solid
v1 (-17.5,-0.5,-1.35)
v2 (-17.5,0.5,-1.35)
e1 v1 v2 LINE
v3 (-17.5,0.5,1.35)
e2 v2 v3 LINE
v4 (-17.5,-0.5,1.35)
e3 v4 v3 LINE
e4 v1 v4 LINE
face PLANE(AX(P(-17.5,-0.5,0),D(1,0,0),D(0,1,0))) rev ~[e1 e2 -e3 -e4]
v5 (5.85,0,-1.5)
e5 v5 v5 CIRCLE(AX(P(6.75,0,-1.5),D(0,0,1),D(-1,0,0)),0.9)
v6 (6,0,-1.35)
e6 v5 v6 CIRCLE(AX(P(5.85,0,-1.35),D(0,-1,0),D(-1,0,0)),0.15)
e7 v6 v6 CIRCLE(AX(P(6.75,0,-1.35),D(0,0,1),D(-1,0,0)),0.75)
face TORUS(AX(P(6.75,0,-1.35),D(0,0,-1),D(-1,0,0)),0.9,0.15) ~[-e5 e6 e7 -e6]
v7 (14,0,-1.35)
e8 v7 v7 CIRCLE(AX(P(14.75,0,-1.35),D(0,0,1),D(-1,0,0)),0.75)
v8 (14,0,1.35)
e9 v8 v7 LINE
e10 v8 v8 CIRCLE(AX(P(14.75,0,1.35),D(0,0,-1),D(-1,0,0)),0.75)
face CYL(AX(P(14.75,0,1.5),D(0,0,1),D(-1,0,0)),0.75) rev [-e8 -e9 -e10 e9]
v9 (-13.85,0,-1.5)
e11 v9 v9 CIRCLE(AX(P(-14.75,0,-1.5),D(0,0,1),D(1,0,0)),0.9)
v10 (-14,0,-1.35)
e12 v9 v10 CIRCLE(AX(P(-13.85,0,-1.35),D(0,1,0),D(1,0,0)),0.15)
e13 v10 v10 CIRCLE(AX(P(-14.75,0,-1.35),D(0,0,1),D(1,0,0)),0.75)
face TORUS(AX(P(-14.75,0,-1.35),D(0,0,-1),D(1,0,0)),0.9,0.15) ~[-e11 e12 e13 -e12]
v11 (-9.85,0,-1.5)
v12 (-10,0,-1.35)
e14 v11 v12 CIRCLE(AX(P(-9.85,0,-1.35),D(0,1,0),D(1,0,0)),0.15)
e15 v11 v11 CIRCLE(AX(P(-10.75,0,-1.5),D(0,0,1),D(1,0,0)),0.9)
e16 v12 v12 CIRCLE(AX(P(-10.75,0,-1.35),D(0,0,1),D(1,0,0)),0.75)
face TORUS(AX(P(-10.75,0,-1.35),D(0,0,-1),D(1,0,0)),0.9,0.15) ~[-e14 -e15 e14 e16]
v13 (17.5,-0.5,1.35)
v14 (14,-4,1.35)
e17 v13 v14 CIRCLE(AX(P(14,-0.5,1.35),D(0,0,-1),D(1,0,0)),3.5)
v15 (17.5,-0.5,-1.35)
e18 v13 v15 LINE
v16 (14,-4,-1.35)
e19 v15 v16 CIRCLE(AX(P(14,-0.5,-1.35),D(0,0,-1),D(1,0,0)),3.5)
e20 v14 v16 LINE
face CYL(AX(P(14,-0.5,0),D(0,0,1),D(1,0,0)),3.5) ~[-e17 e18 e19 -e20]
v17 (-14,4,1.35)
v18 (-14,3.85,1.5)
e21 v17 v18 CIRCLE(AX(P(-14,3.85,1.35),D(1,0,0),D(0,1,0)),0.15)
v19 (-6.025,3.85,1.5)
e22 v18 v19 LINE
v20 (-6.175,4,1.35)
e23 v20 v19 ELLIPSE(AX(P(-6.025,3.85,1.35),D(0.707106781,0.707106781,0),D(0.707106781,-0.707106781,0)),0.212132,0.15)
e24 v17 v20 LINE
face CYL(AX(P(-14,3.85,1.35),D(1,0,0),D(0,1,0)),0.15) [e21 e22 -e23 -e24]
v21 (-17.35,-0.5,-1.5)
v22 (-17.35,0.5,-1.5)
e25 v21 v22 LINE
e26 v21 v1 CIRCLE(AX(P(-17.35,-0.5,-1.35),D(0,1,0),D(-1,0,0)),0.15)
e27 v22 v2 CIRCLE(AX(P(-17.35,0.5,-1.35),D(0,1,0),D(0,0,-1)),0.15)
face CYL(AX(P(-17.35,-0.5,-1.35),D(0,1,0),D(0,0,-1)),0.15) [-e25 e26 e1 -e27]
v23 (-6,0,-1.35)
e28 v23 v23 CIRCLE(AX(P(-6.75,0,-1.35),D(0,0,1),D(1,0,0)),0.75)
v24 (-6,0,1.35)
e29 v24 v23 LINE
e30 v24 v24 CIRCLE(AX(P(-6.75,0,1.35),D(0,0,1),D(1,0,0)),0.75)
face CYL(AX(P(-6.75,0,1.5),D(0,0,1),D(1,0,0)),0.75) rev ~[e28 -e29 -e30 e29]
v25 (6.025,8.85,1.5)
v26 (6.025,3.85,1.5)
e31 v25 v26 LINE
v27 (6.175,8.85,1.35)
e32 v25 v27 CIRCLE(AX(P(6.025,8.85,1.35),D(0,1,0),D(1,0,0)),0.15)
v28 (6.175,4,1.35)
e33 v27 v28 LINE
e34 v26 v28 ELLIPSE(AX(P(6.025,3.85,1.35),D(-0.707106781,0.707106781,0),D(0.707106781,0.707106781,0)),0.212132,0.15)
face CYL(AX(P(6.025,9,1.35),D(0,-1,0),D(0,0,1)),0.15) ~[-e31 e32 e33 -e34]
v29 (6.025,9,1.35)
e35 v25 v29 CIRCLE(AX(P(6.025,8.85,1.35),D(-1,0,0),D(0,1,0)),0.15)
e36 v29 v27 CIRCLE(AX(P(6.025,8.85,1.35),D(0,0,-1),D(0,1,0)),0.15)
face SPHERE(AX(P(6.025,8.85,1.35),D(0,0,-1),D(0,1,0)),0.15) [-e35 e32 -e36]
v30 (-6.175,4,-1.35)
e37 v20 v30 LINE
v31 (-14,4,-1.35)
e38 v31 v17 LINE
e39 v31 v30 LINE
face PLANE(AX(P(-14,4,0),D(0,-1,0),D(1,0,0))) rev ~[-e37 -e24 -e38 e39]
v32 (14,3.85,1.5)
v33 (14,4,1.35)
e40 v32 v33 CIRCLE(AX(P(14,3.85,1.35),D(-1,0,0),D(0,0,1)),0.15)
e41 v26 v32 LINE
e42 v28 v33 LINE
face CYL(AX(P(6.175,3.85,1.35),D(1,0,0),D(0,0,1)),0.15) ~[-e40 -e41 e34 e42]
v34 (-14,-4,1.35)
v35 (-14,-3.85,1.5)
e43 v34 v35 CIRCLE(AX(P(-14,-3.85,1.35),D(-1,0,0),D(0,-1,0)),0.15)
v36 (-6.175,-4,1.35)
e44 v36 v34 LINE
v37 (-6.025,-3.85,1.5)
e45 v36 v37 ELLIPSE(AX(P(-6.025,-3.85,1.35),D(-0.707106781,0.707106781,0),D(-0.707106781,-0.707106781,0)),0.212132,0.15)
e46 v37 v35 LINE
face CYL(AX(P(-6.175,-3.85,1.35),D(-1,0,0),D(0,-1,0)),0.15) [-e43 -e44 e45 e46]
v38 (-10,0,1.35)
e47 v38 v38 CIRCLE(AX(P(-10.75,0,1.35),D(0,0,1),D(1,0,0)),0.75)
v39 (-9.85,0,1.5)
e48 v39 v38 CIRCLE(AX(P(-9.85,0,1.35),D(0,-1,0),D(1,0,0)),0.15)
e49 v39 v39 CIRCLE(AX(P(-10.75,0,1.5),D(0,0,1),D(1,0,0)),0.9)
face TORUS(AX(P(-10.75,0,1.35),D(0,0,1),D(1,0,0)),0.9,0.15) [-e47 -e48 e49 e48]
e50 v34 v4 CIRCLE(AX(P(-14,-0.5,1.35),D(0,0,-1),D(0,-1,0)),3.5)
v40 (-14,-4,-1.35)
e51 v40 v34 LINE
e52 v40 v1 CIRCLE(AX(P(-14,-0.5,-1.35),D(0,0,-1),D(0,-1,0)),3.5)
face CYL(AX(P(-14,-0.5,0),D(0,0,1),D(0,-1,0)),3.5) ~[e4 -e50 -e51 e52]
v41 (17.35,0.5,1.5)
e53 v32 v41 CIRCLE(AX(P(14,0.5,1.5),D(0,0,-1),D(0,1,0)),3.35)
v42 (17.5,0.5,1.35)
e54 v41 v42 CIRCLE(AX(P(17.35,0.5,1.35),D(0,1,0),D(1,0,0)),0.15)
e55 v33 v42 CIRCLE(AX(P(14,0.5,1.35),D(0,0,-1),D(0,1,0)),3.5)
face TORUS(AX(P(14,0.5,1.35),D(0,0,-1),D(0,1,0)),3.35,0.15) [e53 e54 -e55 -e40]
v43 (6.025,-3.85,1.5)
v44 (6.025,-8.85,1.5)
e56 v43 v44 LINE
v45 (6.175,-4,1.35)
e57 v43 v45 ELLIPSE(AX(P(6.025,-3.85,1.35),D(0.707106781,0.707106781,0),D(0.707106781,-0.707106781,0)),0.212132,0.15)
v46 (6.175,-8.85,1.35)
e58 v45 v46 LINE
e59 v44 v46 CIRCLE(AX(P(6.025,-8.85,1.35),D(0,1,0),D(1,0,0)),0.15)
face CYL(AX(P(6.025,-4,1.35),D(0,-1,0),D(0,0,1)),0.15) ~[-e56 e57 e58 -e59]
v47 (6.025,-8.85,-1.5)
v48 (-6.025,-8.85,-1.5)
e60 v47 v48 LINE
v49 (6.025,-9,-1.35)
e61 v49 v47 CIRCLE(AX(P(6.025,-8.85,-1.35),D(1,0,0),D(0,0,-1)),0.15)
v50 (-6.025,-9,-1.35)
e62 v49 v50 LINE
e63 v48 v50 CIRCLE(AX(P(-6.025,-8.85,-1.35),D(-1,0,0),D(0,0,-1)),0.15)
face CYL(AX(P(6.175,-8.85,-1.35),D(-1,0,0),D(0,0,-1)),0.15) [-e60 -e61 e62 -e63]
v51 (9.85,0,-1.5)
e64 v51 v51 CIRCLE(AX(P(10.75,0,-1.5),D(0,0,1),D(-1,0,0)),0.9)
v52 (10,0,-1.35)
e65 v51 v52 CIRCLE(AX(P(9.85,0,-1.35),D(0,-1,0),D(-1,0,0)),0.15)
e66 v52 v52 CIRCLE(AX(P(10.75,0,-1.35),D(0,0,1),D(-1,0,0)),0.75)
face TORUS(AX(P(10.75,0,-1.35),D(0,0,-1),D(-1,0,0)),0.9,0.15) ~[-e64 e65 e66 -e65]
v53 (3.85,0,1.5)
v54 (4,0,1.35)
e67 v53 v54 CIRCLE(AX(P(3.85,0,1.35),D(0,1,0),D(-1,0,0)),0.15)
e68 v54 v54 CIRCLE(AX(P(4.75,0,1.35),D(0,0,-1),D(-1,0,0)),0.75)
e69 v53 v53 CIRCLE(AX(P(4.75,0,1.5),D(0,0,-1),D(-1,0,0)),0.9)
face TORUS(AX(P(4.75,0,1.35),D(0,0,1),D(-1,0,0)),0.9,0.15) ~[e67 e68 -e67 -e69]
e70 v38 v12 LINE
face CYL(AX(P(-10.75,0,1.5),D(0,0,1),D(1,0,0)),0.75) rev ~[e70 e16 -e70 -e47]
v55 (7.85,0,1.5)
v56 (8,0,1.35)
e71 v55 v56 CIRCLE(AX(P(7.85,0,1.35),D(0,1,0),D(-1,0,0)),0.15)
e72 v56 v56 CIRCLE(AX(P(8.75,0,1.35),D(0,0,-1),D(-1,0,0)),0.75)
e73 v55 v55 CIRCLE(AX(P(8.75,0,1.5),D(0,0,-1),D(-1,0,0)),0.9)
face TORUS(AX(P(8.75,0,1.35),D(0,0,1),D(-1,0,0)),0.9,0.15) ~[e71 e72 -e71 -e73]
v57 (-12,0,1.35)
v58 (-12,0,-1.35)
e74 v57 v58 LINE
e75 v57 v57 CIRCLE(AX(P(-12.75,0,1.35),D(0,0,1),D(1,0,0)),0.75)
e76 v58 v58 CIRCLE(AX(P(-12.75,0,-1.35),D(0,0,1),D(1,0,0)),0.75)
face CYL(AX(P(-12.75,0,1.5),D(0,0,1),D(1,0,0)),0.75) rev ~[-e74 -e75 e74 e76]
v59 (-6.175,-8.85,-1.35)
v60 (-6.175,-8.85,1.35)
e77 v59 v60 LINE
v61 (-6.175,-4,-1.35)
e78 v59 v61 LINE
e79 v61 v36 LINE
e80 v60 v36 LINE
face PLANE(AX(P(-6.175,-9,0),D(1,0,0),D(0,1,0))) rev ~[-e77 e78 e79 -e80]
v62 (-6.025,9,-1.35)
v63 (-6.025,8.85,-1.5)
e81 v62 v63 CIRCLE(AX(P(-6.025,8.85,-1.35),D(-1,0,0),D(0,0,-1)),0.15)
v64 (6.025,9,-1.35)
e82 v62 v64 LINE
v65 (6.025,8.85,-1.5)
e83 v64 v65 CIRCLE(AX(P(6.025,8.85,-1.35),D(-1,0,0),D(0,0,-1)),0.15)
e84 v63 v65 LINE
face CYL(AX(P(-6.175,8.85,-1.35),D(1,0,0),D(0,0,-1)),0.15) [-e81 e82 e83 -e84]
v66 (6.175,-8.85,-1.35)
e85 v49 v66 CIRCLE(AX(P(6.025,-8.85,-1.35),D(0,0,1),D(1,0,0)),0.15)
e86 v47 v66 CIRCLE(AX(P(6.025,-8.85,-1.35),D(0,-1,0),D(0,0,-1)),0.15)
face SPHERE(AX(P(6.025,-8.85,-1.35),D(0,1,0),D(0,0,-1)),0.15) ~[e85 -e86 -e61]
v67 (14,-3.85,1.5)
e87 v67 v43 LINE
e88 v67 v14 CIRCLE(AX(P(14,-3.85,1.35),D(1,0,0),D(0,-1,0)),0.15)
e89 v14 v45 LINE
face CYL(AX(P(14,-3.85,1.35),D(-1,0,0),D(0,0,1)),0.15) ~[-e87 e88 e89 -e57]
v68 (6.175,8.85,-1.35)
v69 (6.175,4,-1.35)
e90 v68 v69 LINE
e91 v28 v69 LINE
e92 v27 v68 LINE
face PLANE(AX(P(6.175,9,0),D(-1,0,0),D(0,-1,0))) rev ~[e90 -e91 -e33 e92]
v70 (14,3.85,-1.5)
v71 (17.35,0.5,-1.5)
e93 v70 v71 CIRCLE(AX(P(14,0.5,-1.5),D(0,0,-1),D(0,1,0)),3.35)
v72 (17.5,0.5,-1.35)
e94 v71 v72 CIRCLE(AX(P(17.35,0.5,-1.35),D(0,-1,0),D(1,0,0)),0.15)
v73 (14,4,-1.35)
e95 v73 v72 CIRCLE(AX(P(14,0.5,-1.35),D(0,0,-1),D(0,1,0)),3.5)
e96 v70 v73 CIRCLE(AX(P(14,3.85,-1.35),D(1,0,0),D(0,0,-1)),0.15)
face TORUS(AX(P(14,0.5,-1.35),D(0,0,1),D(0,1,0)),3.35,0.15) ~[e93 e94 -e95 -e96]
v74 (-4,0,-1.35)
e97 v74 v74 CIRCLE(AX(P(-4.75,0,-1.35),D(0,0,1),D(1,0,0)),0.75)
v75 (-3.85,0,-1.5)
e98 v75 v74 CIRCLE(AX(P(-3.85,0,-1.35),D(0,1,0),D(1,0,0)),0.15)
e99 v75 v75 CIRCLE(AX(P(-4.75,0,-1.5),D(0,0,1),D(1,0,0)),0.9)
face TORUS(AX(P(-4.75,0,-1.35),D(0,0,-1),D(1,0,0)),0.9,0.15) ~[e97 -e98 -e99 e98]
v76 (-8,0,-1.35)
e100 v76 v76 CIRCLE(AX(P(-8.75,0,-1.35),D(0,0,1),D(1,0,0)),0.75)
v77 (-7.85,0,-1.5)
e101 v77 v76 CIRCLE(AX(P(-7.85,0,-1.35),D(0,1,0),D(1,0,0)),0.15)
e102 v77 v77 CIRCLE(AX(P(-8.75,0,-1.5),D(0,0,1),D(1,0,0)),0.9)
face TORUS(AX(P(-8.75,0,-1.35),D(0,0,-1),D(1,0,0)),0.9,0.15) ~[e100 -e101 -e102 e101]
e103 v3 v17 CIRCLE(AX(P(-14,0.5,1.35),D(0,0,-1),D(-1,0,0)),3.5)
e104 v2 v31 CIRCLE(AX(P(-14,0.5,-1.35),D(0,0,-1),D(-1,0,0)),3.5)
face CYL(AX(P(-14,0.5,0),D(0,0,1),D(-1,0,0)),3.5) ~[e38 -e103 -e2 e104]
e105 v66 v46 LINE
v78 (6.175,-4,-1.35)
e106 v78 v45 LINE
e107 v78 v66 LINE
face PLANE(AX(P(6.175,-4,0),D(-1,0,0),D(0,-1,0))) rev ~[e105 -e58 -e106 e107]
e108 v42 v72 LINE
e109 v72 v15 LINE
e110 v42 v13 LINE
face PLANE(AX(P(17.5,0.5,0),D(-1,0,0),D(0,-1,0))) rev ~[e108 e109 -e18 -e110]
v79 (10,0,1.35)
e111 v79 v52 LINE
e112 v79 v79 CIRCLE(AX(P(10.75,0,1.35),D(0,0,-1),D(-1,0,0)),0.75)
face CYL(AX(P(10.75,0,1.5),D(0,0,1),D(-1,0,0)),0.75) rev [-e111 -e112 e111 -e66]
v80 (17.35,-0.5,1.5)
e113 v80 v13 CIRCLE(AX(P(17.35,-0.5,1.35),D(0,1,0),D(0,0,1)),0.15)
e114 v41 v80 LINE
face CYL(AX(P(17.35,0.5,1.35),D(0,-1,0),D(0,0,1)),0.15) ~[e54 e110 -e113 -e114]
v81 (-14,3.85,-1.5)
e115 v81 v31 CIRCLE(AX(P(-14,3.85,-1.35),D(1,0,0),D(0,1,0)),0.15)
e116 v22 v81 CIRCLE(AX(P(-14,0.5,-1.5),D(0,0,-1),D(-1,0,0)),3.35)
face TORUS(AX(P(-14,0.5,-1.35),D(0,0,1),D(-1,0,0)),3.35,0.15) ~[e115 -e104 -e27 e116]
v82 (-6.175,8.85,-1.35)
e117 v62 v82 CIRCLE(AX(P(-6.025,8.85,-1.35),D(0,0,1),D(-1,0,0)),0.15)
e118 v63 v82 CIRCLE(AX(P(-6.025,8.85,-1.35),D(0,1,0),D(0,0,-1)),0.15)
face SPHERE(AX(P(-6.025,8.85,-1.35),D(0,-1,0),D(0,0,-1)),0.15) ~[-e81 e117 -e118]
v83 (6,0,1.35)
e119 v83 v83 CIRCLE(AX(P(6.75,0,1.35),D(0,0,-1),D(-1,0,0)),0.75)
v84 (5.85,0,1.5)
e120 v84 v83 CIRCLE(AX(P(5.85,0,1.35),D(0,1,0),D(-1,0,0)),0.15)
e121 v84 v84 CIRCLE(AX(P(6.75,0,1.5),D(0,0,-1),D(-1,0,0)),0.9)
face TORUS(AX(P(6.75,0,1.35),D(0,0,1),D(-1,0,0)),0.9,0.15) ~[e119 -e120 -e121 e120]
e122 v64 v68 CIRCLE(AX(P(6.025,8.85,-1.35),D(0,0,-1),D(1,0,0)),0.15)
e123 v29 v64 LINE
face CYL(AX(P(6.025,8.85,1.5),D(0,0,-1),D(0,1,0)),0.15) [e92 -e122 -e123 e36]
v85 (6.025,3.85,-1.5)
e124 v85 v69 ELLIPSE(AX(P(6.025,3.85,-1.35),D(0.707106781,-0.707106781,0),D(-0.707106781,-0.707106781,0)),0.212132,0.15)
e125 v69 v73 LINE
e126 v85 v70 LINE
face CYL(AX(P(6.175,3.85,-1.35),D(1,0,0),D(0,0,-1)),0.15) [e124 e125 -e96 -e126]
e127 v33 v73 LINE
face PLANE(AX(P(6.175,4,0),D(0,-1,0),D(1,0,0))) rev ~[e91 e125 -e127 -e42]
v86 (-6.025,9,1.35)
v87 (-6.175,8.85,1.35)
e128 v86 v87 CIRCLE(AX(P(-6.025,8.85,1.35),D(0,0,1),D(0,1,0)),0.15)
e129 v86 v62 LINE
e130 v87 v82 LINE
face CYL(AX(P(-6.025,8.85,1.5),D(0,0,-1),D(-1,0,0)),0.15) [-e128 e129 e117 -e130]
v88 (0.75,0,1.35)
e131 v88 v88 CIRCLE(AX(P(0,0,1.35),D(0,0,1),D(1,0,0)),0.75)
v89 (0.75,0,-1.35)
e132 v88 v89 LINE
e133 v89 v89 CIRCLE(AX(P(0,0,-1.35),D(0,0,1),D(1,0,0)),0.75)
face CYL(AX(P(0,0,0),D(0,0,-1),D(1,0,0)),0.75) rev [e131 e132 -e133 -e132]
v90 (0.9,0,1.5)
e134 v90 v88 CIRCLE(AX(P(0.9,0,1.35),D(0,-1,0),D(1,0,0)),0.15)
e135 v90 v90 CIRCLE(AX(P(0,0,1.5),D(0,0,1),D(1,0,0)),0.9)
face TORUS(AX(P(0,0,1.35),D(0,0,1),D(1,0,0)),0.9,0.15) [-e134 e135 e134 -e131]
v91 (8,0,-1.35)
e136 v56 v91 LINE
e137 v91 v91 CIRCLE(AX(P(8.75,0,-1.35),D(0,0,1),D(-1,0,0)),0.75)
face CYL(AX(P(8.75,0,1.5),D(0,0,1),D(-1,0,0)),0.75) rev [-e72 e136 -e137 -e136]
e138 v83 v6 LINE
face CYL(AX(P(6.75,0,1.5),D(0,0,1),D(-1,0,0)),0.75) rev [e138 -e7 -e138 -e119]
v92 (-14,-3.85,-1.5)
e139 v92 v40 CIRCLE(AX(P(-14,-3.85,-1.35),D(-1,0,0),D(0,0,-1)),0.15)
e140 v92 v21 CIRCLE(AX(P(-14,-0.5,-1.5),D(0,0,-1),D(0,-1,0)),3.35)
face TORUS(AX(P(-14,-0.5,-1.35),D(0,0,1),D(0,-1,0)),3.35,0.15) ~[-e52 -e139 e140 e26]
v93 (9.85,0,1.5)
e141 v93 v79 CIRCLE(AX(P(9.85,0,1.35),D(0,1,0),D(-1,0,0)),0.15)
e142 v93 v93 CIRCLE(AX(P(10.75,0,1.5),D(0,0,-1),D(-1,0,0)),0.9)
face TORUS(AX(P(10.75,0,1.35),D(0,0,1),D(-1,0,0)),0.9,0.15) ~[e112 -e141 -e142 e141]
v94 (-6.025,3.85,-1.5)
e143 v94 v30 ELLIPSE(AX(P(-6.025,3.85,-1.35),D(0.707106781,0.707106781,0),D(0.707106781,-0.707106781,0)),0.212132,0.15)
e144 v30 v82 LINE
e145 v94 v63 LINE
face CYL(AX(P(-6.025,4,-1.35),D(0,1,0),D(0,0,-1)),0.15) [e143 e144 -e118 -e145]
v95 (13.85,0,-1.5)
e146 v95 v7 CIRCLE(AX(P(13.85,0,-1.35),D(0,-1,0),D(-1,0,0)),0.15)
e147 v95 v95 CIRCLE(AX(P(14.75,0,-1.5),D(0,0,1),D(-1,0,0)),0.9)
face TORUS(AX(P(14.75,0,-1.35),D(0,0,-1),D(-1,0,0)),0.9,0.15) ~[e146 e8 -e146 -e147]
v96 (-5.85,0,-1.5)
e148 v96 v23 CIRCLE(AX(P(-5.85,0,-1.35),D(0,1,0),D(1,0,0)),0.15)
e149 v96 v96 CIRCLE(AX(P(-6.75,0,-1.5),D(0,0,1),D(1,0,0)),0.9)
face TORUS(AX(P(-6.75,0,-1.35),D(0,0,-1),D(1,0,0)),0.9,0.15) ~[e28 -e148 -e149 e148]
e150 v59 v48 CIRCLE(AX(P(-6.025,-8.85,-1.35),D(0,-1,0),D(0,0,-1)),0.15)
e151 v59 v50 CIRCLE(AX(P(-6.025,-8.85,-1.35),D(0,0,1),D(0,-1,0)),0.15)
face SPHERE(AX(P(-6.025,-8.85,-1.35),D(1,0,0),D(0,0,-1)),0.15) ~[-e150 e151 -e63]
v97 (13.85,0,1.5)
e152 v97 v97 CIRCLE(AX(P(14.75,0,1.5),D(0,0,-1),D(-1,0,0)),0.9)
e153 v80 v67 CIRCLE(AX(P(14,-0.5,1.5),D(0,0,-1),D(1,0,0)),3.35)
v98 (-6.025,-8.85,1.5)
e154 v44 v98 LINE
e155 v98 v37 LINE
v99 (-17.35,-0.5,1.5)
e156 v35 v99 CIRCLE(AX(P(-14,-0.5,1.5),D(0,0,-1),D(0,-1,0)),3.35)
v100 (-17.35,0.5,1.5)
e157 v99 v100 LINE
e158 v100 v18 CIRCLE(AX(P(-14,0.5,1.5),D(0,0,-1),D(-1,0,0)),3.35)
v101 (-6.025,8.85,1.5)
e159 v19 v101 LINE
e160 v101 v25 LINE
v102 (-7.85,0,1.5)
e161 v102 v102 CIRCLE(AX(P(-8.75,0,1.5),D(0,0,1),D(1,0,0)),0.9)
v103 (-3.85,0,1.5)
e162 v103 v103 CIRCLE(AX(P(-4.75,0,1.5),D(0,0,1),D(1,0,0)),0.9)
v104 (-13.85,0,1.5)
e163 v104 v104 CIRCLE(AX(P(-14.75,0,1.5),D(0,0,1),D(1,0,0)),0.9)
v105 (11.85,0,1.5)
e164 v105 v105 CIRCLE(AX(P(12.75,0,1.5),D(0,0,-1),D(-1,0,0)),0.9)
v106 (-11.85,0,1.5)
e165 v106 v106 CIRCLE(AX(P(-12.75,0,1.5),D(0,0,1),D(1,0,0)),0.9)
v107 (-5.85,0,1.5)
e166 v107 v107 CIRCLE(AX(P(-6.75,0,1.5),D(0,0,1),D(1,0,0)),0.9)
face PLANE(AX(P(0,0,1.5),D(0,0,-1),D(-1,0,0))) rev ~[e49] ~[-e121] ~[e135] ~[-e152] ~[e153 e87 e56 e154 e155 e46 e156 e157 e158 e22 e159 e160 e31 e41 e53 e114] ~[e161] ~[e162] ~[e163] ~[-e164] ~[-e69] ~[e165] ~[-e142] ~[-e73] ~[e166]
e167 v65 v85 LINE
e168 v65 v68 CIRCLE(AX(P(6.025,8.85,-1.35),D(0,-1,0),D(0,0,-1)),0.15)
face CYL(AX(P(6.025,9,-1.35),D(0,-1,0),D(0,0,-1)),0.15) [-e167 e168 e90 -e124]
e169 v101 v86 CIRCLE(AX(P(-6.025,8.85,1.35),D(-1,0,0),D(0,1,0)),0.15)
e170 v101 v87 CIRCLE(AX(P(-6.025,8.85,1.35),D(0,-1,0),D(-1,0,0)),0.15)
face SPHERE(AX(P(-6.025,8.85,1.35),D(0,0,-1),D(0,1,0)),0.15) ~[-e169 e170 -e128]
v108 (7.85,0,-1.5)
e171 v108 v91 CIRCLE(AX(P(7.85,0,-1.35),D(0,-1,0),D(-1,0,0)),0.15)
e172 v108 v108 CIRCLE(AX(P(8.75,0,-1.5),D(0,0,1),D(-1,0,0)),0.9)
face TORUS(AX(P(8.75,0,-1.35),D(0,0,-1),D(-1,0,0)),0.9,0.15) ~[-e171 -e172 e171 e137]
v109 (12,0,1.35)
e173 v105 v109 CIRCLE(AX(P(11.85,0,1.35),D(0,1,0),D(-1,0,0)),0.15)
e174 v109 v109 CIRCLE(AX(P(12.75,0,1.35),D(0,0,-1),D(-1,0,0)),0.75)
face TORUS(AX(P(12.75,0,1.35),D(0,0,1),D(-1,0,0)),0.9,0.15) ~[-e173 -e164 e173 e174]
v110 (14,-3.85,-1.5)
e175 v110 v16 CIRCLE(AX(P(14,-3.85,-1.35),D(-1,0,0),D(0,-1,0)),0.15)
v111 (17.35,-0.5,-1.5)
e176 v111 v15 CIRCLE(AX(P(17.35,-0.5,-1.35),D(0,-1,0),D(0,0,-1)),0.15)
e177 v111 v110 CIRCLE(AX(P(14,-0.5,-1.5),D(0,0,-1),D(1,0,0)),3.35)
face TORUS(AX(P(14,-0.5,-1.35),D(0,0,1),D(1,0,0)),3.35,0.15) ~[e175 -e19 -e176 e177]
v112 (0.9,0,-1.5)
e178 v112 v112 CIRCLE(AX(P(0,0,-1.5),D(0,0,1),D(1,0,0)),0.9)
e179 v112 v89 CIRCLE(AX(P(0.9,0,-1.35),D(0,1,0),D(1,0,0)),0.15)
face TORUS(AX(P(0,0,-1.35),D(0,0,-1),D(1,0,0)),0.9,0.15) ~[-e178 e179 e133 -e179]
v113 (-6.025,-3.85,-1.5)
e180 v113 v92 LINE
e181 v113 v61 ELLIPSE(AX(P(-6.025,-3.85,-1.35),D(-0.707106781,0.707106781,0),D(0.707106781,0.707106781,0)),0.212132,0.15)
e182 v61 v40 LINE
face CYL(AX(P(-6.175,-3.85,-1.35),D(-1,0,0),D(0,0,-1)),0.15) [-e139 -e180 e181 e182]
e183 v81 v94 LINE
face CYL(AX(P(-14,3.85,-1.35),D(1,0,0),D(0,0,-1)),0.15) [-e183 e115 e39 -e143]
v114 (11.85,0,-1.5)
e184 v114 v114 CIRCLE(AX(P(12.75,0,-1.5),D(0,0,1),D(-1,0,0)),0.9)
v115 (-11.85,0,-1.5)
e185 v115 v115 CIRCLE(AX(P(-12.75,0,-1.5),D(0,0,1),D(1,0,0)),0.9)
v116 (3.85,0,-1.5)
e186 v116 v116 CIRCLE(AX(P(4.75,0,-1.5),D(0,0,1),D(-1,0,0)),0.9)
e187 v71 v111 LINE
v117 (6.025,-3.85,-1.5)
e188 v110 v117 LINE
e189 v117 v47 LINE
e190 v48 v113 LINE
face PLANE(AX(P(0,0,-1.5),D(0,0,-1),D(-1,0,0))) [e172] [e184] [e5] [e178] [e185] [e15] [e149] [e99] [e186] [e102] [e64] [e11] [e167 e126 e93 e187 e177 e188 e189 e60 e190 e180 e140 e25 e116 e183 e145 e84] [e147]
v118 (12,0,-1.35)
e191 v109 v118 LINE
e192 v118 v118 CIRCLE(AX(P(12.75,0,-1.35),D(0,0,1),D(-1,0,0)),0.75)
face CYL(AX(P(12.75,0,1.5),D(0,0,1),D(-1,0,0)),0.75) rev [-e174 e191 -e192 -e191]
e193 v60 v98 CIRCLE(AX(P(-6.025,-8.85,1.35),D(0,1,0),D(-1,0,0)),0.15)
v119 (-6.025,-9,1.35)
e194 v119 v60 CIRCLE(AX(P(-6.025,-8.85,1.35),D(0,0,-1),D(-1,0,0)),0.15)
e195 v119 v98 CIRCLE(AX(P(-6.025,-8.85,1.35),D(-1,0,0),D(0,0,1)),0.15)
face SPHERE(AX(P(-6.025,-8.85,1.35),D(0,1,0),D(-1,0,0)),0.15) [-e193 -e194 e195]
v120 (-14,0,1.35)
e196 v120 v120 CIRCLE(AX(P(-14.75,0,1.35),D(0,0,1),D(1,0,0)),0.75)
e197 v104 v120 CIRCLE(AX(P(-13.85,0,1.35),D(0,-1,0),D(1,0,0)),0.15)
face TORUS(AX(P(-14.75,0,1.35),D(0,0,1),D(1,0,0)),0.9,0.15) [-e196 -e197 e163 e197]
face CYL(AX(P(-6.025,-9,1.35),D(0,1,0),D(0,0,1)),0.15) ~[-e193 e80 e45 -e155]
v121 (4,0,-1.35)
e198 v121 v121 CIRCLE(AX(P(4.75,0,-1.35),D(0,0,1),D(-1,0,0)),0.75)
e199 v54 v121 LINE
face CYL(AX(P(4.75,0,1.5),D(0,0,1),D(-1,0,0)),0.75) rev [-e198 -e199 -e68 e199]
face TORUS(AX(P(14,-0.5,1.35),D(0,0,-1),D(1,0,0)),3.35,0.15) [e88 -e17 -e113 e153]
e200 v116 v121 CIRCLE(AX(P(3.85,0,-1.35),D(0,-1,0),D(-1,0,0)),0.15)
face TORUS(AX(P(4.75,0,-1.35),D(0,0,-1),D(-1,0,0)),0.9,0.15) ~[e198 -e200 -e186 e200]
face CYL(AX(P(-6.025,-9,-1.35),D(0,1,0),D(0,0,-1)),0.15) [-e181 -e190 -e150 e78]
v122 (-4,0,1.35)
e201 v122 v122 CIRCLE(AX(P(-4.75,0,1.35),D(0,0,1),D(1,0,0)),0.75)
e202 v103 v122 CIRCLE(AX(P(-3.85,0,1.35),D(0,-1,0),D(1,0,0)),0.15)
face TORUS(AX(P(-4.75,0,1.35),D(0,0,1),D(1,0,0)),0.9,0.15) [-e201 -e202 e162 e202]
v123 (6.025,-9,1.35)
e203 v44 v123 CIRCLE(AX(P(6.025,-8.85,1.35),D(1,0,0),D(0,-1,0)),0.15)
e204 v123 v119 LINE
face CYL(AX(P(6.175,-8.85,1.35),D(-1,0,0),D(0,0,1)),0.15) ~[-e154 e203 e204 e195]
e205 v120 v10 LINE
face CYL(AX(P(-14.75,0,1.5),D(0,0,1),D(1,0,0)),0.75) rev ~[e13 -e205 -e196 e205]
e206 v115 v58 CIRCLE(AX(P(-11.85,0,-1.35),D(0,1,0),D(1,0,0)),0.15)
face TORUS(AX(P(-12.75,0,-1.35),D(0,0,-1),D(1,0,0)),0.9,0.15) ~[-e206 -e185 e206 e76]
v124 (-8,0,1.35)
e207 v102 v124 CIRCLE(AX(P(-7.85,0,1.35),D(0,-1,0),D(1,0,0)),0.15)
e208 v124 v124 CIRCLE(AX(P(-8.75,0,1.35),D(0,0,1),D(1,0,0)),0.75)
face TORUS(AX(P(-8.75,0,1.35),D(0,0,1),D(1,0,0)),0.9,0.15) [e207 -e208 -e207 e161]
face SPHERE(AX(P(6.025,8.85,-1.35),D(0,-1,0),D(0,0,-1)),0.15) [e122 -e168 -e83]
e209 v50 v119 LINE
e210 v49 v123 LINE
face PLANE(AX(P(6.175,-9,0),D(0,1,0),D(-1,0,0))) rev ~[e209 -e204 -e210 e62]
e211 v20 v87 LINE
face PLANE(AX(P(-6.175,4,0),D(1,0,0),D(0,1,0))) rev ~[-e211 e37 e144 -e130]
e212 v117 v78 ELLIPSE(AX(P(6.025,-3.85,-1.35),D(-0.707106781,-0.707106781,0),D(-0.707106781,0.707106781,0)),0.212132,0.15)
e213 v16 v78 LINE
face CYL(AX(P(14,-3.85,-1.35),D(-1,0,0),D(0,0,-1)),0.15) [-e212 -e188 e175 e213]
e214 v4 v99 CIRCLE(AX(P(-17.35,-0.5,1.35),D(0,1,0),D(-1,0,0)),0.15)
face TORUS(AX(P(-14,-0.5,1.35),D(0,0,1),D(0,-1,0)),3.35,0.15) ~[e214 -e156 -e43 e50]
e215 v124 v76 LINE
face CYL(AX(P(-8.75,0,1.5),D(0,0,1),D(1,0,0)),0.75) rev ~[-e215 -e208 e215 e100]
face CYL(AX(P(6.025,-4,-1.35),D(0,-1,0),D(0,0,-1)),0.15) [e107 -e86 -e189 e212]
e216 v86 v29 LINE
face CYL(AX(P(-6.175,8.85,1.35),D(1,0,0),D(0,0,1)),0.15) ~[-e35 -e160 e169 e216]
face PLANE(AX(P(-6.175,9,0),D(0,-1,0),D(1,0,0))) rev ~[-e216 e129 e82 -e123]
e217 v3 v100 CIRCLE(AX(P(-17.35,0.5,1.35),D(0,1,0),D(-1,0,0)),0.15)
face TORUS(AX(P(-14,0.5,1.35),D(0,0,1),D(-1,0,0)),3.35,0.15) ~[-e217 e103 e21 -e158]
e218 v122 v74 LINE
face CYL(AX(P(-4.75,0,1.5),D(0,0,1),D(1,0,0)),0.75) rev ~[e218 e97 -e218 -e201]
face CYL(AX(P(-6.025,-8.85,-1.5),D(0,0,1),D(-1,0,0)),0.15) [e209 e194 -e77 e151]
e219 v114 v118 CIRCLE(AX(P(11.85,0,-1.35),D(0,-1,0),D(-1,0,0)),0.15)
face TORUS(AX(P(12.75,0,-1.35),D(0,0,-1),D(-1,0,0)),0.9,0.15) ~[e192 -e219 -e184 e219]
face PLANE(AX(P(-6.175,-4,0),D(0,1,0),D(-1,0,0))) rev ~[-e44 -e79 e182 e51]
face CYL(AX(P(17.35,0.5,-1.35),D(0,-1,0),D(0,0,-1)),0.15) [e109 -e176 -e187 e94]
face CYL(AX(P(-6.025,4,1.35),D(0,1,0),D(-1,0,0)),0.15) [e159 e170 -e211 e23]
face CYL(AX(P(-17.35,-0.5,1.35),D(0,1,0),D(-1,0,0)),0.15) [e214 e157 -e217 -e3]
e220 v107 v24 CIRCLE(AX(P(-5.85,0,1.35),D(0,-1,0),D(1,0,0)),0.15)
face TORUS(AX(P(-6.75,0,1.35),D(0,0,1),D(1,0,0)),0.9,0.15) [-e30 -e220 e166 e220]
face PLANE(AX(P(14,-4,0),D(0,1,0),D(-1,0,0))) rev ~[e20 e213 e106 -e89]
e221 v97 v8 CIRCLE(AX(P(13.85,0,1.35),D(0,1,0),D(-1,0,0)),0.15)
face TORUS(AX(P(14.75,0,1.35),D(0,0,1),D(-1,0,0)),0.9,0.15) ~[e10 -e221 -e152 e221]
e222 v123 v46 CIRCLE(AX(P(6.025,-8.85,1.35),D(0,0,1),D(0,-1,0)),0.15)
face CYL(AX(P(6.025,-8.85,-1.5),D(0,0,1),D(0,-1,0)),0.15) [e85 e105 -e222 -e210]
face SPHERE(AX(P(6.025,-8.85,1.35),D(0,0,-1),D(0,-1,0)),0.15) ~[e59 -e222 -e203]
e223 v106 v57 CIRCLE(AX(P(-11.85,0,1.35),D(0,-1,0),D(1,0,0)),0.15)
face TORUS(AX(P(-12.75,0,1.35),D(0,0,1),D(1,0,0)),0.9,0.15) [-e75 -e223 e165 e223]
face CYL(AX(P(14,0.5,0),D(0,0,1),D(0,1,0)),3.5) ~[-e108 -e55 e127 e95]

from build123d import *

# Parameters (mm, degrees)
SKETCH1_R           = 0.75
BOSS_EXTRUDE1_DEPTH = 1.5
SKETCH2_R           = 0.75
CUT_EXTRUDE1_DEPTH  = 20.906029237
FILLET2_R           = 0.15


with BuildPart() as part:
    # Sketch1 → Boss-Extrude1 (new, symmetric)
    with BuildSketch(Plane.XY):
        with BuildLine():
            Line((-14, 4), (-6.175, 4))
            Line((-6.175, 4), (-6.175, 9))
            Line((-6.175, 9), (6.175, 9))
            Line((6.175, 9), (6.175, 4))
            Line((6.175, 4), (14, 4))
            ThreePointArc((14, 4), (16.474873734, 2.974873734), (17.5, 0.5))
            Line((17.5, 0.5), (17.5, -0.5))
            ThreePointArc((17.5, -0.5), (16.474873734, -2.974873734), (14, -4))
            Line((14, -4), (6.175, -4))
            Line((6.175, -4), (6.175, -9))
            Line((6.175, -9), (-6.175, -9))
            Line((-6.175, -9), (-6.175, -4))
            Line((-6.175, -4), (-14, -4))
            ThreePointArc((-14, -4), (-16.474873734, -2.974873734), (-17.5, -0.5))
            Line((-17.5, -0.5), (-17.5, 0.5))
            ThreePointArc((-17.5, 0.5), (-16.474873734, 2.974873734), (-14, 4))
        make_face()
        Circle(SKETCH1_R, mode=Mode.SUBTRACT)
    extrude(amount=BOSS_EXTRUDE1_DEPTH, both=True)

    # Sketch2 → Cut-Extrude1 (cut, through all)
    with BuildSketch(Plane.XY.offset(1.5)):
        with Locations((-14.75, 0)):
            Circle(SKETCH2_R)
        with Locations((-12.75, 0)):
            Circle(SKETCH2_R)
        with Locations((-10.75, 0)):
            Circle(SKETCH2_R)
        with Locations((-8.75, 0)):
            Circle(SKETCH2_R)
        with Locations((-6.75, 0)):
            Circle(SKETCH2_R)
        with Locations((-4.75, 0)):
            Circle(SKETCH2_R)
    cut_extrude1 = extrude(amount=-CUT_EXTRUDE1_DEPTH, mode=Mode.SUBTRACT)

    # Mirror1: Cut-Extrude1 across plane
    add(cut_extrude1.mirror(Plane(origin=(0, 0, 0), x_dir=(0, 0, 1), z_dir=(1, 0, 0))), mode=Mode.SUBTRACT)

    # Fillet2
    fillet2_edges = [part.edges().sort_by_distance(p)[0] for p in [
        (-10.0875, 4, 1.5),
        (-16.474873734, 2.974873734, 1.5),
        (6.175, 6.5, -1.5),
        (10.0875, 4, -1.5),
        (16.474873734, 2.974873734, -1.5),
        (17.5, 0, -1.5),
        (16.474873734, -2.974873734, -1.5),
        (-17.5, 0, 1.5),
        (10.0875, -4, -1.5),
        (6.175, -6.5, -1.5),
        (0, -9, -1.5),
        (-6.175, -6.5, -1.5),
        (-10.0875, -4, -1.5),
        (-16.474873734, -2.974873734, -1.5),
        (-17.5, 0, -1.5),
        (-16.474873734, 2.974873734, -1.5),
        (-16.474873734, -2.974873734, 1.5),
        (-10.0875, 4, -1.5),
        (-6.175, 6.5, -1.5),
        (0, 9, -1.5),
        (-10.0875, -4, 1.5),
        (-6.175, -6.5, 1.5),
        (6.175, 9, 0),
        (6.175, -9, 0),
        (-6.175, -9, 0),
        (-6.175, 9, 0),
        (0, -9, 1.5),
        (6.175, -6.5, 1.5),
        (10.0875, -4, 1.5),
        (16.474873734, -2.974873734, 1.5),
        (-0.75, 0, -1.5),
        (-0.75, 0, 1.5),
        (0, 9, 1.5),
        (17.5, 0, 1.5),
        (16.474873734, 2.974873734, 1.5),
        (10.0875, 4, 1.5),
        (6.175, 6.5, 1.5),
        (-15.5, 0, -1.5),
        (-15.5, 0, 1.5),
        (-13.5, 0, -1.5),
        (-13.5, 0, 1.5),
        (-11.5, 0, -1.5),
        (-11.5, 0, 1.5),
        (-9.5, 0, -1.5),
        (-9.5, 0, 1.5),
        (-7.5, 0, -1.5),
        (-7.5, 0, 1.5),
        (-5.5, 0, -1.5),
        (-5.5, 0, 1.5),
        (-6.175, 6.5, 1.5),
        (15.5, 0, 1.5),
        (15.5, 0, -1.5),
        (13.5, 0, 1.5),
        (13.5, 0, -1.5),
        (11.5, 0, 1.5),
        (11.5, 0, -1.5),
        (9.5, 0, 1.5),
        (9.5, 0, -1.5),
        (7.5, 0, 1.5),
        (7.5, 0, -1.5),
        (5.5, 0, 1.5),
        (5.5, 0, -1.5),
    ]]
    fillet(fillet2_edges, radius=FILLET2_R)


solid = part.part
